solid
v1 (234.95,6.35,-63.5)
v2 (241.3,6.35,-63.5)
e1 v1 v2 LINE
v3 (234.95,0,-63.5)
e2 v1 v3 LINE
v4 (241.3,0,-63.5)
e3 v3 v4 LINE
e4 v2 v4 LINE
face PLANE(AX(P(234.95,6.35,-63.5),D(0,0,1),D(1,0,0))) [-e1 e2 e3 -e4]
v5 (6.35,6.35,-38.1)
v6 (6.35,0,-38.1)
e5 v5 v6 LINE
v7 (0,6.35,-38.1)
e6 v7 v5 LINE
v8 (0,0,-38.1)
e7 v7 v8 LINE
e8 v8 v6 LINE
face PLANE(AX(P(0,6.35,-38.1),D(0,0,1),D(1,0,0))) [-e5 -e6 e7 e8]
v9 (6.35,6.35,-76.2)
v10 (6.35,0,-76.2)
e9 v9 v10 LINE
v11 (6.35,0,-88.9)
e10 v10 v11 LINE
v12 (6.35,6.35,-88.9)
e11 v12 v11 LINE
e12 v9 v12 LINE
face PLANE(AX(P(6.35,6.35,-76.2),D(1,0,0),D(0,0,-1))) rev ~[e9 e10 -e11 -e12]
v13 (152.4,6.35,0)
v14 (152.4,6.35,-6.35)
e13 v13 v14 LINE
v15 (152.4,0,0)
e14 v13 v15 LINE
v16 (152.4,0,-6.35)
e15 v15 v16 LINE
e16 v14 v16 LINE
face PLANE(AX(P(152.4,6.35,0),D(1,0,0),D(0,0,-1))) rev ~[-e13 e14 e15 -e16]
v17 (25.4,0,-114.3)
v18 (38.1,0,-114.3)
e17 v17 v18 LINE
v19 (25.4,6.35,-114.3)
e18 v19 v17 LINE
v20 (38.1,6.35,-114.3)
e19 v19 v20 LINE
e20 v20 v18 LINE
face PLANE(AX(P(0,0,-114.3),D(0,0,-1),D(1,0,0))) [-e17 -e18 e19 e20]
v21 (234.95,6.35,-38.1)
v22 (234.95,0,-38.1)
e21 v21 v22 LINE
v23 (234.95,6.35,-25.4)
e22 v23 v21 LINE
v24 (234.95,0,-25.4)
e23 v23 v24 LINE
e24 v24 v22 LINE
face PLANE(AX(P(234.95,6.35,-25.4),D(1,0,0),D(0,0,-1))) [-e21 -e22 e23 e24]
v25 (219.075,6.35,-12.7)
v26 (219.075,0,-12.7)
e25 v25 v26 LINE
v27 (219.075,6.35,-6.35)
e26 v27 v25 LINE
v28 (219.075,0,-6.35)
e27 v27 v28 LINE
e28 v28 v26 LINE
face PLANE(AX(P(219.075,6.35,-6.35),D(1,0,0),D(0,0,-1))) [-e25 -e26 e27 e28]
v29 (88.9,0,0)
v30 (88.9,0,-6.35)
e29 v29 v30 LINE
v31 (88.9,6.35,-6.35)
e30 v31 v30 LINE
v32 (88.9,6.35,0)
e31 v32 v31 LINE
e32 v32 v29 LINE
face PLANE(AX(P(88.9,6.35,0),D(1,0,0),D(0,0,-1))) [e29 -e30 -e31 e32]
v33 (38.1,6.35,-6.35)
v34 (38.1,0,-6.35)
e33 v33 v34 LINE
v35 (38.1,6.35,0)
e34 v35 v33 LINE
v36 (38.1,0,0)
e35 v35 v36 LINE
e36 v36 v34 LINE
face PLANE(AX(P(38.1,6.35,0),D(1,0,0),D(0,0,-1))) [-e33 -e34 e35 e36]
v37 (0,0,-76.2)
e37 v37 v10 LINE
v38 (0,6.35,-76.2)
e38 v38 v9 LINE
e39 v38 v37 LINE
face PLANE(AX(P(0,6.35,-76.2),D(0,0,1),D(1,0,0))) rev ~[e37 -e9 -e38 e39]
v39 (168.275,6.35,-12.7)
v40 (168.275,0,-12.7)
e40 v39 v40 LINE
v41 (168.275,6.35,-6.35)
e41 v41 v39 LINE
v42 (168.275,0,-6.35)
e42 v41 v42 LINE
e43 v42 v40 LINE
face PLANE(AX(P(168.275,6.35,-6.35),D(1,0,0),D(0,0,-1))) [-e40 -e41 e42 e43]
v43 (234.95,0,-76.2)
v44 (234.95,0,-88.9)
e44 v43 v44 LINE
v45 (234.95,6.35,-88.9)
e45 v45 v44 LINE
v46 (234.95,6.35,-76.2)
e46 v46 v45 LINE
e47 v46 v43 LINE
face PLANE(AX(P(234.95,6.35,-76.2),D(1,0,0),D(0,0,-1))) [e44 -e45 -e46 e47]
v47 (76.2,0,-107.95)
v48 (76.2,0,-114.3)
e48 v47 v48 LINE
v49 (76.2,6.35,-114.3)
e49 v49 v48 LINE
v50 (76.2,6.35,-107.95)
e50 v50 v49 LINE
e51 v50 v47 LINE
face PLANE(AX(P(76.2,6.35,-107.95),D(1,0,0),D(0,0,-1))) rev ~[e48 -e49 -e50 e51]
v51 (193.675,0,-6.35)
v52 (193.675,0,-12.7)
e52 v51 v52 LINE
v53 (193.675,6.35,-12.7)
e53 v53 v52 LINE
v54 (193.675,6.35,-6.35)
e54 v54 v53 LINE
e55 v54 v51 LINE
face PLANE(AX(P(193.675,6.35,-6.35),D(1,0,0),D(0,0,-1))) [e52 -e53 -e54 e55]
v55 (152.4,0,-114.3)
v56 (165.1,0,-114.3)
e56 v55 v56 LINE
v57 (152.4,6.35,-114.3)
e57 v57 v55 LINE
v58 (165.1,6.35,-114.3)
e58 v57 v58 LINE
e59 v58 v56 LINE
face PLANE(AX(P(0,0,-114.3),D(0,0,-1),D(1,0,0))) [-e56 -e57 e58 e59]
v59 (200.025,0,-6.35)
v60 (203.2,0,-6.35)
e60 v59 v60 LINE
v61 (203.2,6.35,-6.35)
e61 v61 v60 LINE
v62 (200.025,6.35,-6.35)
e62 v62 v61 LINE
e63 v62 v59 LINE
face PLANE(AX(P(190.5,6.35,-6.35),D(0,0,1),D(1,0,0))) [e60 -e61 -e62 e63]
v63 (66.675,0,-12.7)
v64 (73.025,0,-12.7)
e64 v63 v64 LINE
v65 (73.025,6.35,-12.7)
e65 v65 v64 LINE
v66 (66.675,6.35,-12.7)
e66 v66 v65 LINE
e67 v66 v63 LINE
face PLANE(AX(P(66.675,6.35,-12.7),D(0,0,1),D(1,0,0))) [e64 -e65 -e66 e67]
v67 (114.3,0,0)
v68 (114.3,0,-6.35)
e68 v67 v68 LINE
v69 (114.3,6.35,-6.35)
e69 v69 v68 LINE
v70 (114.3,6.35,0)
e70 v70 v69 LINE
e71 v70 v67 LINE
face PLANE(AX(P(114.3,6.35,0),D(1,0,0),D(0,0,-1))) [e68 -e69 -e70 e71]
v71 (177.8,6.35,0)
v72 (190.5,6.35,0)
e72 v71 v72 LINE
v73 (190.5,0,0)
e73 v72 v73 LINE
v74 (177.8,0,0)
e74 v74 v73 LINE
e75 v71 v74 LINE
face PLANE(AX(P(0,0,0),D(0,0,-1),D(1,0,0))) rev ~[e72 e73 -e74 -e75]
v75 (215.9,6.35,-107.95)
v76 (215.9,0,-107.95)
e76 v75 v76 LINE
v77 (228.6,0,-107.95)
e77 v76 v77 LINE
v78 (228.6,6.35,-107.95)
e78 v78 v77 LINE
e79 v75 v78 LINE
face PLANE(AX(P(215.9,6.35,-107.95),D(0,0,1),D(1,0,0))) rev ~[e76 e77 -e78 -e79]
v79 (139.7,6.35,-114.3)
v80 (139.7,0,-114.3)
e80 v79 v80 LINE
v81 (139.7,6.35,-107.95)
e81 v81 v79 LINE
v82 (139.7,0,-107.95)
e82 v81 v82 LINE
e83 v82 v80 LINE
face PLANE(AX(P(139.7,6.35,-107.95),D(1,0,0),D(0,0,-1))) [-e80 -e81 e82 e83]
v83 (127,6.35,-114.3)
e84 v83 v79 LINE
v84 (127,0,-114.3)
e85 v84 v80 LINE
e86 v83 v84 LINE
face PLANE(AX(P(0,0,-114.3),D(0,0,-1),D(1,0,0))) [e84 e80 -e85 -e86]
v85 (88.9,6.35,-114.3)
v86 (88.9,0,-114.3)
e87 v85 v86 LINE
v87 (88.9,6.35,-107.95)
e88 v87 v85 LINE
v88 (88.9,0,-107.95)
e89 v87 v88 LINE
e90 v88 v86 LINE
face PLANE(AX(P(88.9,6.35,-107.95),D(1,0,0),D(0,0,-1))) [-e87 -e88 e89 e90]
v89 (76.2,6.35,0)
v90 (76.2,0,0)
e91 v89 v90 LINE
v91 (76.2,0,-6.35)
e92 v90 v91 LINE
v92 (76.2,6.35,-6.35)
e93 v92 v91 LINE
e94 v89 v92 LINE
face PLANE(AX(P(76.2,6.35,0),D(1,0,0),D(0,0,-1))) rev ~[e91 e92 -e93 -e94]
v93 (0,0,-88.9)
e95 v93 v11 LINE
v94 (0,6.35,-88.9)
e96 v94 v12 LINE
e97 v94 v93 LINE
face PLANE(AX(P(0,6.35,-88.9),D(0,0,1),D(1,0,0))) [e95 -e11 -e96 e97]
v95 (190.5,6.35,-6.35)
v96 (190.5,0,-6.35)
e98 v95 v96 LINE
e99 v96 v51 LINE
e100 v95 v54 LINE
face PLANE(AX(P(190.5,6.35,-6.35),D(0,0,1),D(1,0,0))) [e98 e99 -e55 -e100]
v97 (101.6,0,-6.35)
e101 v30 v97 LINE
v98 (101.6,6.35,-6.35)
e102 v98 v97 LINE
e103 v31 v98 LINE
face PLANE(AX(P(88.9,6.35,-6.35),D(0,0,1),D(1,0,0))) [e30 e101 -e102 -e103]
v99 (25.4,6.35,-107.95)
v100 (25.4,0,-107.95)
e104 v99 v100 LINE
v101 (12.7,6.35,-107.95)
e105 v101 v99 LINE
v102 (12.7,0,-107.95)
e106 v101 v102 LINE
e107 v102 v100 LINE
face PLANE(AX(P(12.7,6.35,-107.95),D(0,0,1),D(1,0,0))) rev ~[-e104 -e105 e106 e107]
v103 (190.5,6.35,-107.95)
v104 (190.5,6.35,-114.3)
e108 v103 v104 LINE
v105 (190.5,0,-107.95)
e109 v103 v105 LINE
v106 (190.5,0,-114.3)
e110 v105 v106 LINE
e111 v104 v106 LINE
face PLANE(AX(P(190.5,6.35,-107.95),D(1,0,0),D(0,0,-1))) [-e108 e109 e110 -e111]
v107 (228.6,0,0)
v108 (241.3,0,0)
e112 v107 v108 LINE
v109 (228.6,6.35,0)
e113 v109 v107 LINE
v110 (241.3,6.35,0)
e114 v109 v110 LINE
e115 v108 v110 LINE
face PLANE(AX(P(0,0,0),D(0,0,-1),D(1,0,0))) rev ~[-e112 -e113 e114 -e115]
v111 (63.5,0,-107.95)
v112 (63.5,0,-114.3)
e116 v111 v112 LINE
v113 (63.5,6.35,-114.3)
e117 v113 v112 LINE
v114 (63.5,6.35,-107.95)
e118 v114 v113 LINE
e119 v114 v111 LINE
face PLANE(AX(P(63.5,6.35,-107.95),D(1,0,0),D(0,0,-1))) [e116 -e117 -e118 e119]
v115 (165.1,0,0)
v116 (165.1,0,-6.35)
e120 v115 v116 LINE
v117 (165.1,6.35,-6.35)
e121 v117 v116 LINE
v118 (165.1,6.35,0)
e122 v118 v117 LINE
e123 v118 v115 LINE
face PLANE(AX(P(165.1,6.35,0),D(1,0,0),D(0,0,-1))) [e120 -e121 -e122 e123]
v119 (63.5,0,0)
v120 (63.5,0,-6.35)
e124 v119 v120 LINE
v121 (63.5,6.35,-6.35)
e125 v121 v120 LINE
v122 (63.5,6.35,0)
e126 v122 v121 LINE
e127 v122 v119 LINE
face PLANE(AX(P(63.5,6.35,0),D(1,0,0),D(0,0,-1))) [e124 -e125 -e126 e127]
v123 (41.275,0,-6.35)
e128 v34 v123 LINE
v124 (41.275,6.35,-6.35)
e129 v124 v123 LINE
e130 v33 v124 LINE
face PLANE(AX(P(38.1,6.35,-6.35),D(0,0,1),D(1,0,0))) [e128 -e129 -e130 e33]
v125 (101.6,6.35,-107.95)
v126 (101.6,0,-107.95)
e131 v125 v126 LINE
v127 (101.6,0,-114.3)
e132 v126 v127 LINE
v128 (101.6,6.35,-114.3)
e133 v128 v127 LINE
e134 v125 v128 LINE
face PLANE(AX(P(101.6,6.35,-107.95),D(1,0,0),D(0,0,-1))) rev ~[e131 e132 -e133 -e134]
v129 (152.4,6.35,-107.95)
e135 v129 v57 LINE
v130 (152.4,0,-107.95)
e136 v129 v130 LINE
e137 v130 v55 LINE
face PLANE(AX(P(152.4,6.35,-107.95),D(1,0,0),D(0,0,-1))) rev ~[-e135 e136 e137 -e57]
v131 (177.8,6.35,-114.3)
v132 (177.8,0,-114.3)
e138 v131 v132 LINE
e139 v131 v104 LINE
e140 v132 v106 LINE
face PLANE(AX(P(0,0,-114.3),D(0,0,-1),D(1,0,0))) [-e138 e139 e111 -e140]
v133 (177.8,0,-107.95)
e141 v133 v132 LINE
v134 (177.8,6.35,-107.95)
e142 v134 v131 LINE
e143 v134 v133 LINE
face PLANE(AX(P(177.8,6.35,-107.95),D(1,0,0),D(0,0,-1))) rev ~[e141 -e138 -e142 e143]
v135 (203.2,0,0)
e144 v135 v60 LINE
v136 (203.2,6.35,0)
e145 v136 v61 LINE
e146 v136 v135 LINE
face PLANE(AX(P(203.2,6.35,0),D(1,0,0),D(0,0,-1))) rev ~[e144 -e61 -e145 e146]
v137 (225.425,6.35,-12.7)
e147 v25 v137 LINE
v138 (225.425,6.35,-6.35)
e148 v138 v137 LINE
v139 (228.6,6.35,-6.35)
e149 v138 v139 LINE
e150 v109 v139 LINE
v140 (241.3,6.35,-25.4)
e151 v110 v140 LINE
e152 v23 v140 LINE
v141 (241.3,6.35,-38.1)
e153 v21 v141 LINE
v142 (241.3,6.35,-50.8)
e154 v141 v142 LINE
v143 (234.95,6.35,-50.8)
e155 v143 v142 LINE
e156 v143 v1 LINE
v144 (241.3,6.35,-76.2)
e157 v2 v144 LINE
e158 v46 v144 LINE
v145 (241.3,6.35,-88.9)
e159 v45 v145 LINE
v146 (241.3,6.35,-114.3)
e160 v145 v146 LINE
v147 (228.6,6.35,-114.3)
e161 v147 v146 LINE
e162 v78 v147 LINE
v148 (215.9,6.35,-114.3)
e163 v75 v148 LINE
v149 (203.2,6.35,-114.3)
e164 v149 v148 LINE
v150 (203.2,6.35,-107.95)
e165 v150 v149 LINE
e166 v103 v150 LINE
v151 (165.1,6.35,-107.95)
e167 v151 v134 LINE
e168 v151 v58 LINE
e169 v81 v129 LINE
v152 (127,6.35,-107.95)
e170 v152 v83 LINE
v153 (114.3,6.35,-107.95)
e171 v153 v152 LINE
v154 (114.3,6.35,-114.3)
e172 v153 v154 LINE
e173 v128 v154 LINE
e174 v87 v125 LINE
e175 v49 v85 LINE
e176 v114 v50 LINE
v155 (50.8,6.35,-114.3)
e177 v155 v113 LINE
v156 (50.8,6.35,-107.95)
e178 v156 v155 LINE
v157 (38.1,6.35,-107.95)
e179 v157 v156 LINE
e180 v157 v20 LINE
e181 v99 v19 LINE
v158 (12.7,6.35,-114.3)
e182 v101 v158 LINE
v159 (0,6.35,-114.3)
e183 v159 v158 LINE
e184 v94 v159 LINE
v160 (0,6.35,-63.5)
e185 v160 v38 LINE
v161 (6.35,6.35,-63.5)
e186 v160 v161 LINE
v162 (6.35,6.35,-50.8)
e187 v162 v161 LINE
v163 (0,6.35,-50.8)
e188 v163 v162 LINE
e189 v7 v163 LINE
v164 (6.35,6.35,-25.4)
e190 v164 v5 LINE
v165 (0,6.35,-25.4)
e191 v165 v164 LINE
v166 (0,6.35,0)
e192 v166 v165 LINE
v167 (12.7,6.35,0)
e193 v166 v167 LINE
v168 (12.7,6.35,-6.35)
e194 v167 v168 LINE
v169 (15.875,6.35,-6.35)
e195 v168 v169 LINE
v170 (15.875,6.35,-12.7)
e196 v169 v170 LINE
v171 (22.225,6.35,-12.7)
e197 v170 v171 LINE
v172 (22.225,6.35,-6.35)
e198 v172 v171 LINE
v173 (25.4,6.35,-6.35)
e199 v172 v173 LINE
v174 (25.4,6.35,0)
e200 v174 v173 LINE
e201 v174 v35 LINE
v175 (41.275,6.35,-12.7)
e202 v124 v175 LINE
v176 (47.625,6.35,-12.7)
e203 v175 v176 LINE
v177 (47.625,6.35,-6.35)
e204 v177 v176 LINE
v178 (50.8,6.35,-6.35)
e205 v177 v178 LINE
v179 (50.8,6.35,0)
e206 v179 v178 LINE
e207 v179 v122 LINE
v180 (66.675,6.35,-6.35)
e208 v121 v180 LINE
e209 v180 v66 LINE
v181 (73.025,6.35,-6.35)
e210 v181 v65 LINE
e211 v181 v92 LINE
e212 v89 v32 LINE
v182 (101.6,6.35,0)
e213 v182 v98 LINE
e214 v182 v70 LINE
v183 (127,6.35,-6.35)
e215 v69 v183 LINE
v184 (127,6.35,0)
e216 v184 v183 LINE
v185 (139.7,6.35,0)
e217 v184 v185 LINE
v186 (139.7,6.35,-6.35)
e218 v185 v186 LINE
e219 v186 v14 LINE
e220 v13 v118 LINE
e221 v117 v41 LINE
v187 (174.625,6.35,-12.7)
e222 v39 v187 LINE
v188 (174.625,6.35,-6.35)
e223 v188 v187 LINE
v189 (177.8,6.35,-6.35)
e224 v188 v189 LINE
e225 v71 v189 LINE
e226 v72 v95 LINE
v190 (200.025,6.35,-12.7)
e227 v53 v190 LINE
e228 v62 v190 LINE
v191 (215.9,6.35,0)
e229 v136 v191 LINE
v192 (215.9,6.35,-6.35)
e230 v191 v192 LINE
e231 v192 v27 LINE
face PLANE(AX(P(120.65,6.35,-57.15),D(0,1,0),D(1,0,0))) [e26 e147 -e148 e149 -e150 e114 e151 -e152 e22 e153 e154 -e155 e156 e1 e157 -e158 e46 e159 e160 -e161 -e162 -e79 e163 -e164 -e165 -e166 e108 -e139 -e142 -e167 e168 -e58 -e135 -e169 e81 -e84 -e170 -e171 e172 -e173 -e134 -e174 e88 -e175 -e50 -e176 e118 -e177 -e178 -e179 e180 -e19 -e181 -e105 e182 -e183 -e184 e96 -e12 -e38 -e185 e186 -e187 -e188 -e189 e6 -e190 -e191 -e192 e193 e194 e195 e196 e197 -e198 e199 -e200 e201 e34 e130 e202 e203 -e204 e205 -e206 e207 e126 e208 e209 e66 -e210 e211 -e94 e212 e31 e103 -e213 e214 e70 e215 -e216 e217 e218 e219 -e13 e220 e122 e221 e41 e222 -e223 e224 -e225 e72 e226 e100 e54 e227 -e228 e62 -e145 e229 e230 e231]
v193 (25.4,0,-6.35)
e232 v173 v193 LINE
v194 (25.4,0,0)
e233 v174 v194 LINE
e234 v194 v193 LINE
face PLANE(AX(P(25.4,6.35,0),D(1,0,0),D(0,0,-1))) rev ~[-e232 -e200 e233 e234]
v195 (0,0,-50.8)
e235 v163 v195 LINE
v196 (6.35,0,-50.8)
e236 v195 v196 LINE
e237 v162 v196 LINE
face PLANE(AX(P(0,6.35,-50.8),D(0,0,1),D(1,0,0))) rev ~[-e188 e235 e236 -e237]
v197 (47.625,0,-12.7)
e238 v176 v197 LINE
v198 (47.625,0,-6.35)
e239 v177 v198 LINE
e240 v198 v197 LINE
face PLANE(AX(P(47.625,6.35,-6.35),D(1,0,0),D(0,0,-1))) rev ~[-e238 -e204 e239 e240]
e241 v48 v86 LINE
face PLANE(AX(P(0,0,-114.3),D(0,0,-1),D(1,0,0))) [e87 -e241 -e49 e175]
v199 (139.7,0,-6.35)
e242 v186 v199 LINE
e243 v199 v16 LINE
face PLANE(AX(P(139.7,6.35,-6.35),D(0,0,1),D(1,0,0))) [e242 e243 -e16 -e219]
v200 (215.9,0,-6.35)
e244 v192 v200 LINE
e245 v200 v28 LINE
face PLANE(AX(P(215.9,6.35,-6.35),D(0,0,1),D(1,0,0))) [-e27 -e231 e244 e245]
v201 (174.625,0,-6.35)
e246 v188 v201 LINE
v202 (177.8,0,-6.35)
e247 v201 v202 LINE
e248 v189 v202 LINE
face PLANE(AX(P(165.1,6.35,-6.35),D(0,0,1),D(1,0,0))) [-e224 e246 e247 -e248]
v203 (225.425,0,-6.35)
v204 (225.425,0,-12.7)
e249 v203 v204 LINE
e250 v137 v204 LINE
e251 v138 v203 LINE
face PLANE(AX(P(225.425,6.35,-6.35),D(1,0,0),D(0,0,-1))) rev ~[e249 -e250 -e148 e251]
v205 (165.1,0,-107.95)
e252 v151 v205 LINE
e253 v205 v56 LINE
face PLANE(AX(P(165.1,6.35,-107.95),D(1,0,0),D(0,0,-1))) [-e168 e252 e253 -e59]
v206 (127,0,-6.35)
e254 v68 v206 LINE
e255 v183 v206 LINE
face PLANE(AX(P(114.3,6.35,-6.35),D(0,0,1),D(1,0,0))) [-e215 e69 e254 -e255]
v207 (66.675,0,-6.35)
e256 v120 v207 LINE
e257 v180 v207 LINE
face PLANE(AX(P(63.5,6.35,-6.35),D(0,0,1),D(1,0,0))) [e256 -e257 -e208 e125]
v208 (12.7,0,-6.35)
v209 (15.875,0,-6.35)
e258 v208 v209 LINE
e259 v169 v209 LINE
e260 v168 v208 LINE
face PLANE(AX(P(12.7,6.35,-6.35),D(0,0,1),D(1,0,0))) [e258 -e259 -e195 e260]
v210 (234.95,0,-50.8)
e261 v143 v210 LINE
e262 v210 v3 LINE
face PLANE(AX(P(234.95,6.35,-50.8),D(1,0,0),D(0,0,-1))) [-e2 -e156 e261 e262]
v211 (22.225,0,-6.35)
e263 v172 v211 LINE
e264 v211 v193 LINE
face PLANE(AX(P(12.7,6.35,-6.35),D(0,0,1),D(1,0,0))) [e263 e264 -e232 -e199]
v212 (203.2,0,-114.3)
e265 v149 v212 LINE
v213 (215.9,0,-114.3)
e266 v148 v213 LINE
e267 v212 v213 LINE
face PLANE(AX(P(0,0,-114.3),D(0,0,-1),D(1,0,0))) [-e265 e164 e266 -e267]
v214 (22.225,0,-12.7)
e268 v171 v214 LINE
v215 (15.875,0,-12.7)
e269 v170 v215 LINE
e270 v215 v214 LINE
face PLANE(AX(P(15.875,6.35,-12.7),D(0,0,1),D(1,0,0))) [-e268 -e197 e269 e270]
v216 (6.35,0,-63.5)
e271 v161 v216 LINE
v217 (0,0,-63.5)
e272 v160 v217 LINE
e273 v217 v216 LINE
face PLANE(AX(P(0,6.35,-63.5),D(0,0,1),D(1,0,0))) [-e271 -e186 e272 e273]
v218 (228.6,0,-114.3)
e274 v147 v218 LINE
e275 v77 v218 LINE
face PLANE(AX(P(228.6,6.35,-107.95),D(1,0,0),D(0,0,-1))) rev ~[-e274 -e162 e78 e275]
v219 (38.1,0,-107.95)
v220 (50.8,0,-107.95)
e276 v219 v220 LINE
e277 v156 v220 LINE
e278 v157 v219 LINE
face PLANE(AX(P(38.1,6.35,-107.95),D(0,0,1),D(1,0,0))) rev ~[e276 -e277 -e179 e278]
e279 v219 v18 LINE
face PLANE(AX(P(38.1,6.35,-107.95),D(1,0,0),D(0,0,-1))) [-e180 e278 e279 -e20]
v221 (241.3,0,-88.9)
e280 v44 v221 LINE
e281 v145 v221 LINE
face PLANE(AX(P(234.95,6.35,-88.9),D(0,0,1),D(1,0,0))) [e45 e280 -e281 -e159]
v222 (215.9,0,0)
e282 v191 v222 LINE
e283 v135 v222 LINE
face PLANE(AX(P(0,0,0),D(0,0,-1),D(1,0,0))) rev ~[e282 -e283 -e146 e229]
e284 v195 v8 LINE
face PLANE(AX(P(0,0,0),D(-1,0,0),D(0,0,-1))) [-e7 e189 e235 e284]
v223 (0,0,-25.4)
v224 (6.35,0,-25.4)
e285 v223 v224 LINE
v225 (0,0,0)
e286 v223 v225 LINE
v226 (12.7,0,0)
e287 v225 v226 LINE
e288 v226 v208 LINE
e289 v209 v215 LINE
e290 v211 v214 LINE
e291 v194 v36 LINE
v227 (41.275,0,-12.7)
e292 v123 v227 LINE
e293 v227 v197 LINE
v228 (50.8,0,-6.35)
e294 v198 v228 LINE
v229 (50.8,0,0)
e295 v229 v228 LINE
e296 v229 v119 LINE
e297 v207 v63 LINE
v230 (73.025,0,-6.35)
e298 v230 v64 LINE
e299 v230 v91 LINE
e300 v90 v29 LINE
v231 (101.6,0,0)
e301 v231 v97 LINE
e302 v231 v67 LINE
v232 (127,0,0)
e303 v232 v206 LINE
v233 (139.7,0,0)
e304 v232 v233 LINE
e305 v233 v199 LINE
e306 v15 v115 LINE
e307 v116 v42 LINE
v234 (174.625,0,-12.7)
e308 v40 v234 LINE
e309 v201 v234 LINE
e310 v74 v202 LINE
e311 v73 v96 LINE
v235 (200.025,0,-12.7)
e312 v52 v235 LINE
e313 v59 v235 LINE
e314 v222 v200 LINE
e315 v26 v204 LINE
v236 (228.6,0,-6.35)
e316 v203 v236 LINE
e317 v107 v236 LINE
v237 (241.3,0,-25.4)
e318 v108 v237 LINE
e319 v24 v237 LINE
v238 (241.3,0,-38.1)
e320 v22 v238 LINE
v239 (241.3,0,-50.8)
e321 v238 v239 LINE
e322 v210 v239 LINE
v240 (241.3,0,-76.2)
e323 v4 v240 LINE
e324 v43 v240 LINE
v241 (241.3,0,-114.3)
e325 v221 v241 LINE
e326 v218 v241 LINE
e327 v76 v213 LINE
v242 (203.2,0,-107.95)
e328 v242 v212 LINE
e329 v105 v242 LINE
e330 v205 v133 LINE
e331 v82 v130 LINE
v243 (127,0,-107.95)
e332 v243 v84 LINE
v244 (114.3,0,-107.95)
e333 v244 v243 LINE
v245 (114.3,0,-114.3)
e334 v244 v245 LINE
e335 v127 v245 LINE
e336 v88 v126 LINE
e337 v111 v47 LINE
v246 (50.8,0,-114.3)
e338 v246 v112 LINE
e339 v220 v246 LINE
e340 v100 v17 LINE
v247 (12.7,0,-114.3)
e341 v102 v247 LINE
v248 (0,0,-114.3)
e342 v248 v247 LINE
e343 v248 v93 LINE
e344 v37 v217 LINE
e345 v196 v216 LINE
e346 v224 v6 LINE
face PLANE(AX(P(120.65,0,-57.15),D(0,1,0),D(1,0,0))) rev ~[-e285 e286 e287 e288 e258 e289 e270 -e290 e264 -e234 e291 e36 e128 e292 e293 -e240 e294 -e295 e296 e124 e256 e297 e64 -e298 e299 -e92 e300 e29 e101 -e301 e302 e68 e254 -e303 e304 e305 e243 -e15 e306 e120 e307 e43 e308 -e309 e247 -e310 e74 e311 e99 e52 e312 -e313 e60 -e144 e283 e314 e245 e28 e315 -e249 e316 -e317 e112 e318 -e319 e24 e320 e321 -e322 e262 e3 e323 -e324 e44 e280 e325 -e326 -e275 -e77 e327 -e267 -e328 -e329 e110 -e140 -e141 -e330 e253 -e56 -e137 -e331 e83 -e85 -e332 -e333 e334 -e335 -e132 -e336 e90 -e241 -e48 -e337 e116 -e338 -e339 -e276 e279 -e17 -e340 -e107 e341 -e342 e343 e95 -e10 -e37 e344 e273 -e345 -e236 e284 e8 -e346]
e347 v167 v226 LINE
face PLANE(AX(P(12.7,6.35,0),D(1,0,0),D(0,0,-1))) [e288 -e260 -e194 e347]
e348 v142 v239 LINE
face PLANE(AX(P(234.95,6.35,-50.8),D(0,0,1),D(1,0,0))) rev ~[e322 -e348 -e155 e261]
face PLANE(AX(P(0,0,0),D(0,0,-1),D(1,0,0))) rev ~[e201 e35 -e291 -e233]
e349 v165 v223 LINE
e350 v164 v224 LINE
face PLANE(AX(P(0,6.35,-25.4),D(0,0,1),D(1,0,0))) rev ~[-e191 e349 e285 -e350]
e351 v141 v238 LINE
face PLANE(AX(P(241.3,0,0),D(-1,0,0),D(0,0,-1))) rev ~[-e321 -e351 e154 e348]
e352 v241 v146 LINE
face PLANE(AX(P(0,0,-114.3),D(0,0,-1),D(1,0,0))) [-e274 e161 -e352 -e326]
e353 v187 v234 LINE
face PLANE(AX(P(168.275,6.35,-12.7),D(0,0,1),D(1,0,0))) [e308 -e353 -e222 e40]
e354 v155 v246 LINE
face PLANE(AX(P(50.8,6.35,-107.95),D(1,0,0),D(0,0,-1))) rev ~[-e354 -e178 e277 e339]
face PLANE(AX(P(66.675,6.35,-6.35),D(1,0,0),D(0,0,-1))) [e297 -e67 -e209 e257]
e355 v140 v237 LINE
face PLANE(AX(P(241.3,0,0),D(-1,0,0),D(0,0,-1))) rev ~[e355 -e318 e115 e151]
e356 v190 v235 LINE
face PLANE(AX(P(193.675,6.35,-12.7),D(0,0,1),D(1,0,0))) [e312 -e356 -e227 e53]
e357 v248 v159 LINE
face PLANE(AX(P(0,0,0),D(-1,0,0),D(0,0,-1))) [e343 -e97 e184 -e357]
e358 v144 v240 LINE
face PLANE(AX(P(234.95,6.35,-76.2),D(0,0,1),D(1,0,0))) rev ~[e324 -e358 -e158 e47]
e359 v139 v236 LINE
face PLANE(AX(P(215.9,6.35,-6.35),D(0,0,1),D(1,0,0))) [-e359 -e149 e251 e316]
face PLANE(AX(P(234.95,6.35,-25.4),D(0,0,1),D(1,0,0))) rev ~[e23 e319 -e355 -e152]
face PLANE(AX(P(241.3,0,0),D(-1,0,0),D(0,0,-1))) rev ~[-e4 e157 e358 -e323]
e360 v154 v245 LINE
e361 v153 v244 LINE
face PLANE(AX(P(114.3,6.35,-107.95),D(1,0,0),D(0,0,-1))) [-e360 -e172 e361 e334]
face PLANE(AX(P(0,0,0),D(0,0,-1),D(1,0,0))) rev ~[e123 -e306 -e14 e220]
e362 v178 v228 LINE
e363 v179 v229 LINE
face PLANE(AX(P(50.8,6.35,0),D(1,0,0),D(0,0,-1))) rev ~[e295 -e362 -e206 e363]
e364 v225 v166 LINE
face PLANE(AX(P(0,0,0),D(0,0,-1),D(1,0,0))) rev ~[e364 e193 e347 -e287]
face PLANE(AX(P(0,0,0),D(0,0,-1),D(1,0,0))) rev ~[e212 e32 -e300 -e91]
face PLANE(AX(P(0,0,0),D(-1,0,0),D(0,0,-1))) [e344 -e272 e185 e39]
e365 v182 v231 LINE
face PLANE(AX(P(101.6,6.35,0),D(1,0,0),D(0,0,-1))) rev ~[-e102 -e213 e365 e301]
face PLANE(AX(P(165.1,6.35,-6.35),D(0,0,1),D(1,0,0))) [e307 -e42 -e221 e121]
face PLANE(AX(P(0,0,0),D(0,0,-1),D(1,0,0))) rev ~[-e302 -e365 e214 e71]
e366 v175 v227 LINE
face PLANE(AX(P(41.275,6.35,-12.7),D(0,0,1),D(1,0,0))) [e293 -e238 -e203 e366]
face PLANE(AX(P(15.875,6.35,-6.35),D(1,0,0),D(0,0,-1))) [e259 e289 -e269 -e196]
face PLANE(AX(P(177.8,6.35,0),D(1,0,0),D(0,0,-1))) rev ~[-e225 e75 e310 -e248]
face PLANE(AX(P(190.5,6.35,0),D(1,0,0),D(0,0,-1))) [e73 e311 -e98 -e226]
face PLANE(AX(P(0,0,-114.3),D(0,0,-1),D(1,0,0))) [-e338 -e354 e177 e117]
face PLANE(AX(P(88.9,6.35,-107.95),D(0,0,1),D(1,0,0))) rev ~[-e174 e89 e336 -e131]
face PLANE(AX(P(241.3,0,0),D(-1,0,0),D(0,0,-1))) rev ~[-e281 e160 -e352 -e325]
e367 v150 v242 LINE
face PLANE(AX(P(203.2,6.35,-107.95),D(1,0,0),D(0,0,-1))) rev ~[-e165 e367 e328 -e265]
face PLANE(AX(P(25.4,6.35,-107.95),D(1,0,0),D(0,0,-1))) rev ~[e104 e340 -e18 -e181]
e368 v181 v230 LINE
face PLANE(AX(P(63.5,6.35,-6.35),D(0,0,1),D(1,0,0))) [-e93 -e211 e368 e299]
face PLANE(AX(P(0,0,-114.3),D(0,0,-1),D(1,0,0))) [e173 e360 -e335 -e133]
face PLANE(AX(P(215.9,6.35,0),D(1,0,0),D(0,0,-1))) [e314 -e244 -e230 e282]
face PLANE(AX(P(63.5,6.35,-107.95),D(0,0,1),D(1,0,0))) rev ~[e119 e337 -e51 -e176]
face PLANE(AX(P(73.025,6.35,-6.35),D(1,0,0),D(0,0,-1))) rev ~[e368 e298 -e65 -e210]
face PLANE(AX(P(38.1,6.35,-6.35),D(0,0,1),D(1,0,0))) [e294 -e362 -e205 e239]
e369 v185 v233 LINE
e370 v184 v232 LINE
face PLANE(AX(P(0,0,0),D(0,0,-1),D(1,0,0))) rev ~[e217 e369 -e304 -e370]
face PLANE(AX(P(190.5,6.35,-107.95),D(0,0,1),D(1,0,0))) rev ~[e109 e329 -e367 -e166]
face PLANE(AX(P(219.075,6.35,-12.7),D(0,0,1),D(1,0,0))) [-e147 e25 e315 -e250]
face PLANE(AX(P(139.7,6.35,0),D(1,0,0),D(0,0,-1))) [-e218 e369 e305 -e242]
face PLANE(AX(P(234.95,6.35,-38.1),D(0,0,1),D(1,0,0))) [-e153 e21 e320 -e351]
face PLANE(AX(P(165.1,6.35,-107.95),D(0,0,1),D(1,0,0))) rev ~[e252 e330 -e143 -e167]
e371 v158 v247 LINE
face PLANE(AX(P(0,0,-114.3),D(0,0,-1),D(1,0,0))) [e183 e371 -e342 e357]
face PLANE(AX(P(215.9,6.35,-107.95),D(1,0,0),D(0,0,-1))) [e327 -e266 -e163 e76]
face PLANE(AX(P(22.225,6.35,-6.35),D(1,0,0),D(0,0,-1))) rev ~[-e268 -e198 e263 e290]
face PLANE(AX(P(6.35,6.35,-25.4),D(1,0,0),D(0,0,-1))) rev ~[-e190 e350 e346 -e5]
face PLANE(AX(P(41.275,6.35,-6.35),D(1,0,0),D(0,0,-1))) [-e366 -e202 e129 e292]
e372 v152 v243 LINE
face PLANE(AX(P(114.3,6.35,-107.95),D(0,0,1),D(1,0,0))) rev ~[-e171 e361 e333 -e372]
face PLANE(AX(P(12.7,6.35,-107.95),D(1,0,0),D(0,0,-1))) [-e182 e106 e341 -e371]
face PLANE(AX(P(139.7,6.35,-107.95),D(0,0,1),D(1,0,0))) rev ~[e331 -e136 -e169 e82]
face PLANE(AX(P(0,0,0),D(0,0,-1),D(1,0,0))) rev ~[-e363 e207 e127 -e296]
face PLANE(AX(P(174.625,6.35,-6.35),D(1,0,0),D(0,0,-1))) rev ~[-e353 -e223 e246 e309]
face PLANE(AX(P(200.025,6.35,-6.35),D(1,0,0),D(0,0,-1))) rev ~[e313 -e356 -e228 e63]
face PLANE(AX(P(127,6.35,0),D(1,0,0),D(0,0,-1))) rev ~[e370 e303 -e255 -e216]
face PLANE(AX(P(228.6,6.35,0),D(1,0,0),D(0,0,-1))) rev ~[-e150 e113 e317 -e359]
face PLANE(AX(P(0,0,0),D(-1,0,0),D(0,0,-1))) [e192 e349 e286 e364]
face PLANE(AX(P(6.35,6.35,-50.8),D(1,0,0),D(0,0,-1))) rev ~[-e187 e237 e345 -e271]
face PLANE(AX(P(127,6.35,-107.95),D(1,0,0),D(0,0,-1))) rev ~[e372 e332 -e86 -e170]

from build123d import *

# Parameters (mm, degrees)
SKETCH1_W           = 241.3
SKETCH1_H           = 114.3
BOSS_EXTRUDE1_DEPTH = 6.35
SKETCH2_W           = 12.7
SKETCH2_H           = 6.35
CUT_EXTRUDE1_DEPTH  = 7.35
SKETCH3_W           = 6.35
SKETCH3_H           = 12.7
CUT_EXTRUDE2_DEPTH  = 7.35
LPATTERN1_COUNT     = 2
LPATTERN1_PITCH     = 25.4
LPATTERN1_COL_COUNT = 2
LPATTERN1_COL_PITCH = 25.4
SKETCH4_W           = 6.35
SKETCH4_H           = 6.35
CUT_EXTRUDE3_DEPTH  = 7.35
LPATTERN2_COUNT     = 9
LPATTERN2_PITCH     = 25.4


with BuildPart() as part:
    # Sketch1 → Boss-Extrude1 (new body)
    with BuildSketch(Plane(origin=(0, 0, 0), x_dir=(1, 0, 0), z_dir=(0, 1, 0))):
        with Locations((120.65, 57.15)):
            Rectangle(SKETCH1_W, SKETCH1_H)
    extrude(amount=BOSS_EXTRUDE1_DEPTH)

    # Sketch2 → Cut-Extrude1 (cut, through all)
    with BuildSketch(Plane(origin=(0, 6.35, 0), x_dir=(1, 0, 0), z_dir=(0, 1, 0))):
        with Locations((19.05, 111.125)):
            Rectangle(SKETCH2_W, SKETCH2_H)
        with Locations((-6.35, 111.125)):
            Rectangle(SKETCH2_W, SKETCH2_H)
        with Locations((-6.35, 3.175)):
            Rectangle(SKETCH2_W, SKETCH2_H)
        with Locations((19.05, 3.175)):
            Rectangle(SKETCH2_W, SKETCH2_H)
        with Locations((44.45, 111.125)):
            Rectangle(SKETCH2_W, SKETCH2_H)
        with Locations((44.45, 3.175)):
            Rectangle(SKETCH2_W, SKETCH2_H)
        with Locations((69.85, 111.125)):
            Rectangle(SKETCH2_W, SKETCH2_H)
        with Locations((69.85, 3.175)):
            Rectangle(SKETCH2_W, SKETCH2_H)
        with Locations((95.25, 111.125)):
            Rectangle(SKETCH2_W, SKETCH2_H)
        with Locations((95.25, 3.175)):
            Rectangle(SKETCH2_W, SKETCH2_H)
        with Locations((120.65, 111.125)):
            Rectangle(SKETCH2_W, SKETCH2_H)
        with Locations((120.65, 3.175)):
            Rectangle(SKETCH2_W, SKETCH2_H)
        with Locations((146.05, 111.125)):
            Rectangle(SKETCH2_W, SKETCH2_H)
        with Locations((146.05, 3.175)):
            Rectangle(SKETCH2_W, SKETCH2_H)
        with Locations((171.45, 111.125)):
            Rectangle(SKETCH2_W, SKETCH2_H)
        with Locations((171.45, 3.175)):
            Rectangle(SKETCH2_W, SKETCH2_H)
        with Locations((196.85, 111.125)):
            Rectangle(SKETCH2_W, SKETCH2_H)
        with Locations((196.85, 3.175)):
            Rectangle(SKETCH2_W, SKETCH2_H)
        with Locations((222.25, 111.125)):
            Rectangle(SKETCH2_W, SKETCH2_H)
        with Locations((222.25, 3.175)):
            Rectangle(SKETCH2_W, SKETCH2_H)
    extrude(amount=-CUT_EXTRUDE1_DEPTH, mode=Mode.SUBTRACT)

    # Sketch3 → Cut-Extrude2 (cut, through all)
    with BuildSketch(Plane(origin=(0, 6.35, 0), x_dir=(1, 0, 0), z_dir=(0, 1, 0))):
        with Locations((3.175, 57.15)):
            Rectangle(SKETCH3_W, SKETCH3_H)
        with Locations((238.125, 57.15)):
            Rectangle(SKETCH3_W, SKETCH3_H)
    cut_extrude2 = extrude(amount=-CUT_EXTRUDE2_DEPTH, mode=Mode.SUBTRACT)

    # LPattern1: Cut-Extrude2 ×2
    with Locations(*[(0, 0, i * LPATTERN1_PITCH) for i in range(1, LPATTERN1_COUNT)]):
        add(cut_extrude2, mode=Mode.SUBTRACT)

    # LPattern1 col: Cut-Extrude2 ×2
    with Locations(*[(0, 0, -i * LPATTERN1_COL_PITCH) for i in range(1, LPATTERN1_COL_COUNT)]):
        add(cut_extrude2, mode=Mode.SUBTRACT)

    # Sketch4 → Cut-Extrude3 (cut, through all)
    with BuildSketch(Plane(origin=(0, 6.35, 0), x_dir=(1, 0, 0), z_dir=(0, 1, 0))):
        with Locations((19.05, 9.525)):
            Rectangle(SKETCH4_W, SKETCH4_H)
    cut_extrude3 = extrude(amount=-CUT_EXTRUDE3_DEPTH, mode=Mode.SUBTRACT)

    # LPattern2: Cut-Extrude3 ×9, 3 skipped
    with Locations(*[(i * LPATTERN2_PITCH, 0, 0) for i in range(1, LPATTERN2_COUNT) if i not in (3, 4, 5)]):
        add(cut_extrude3, mode=Mode.SUBTRACT)


solid = part.part
